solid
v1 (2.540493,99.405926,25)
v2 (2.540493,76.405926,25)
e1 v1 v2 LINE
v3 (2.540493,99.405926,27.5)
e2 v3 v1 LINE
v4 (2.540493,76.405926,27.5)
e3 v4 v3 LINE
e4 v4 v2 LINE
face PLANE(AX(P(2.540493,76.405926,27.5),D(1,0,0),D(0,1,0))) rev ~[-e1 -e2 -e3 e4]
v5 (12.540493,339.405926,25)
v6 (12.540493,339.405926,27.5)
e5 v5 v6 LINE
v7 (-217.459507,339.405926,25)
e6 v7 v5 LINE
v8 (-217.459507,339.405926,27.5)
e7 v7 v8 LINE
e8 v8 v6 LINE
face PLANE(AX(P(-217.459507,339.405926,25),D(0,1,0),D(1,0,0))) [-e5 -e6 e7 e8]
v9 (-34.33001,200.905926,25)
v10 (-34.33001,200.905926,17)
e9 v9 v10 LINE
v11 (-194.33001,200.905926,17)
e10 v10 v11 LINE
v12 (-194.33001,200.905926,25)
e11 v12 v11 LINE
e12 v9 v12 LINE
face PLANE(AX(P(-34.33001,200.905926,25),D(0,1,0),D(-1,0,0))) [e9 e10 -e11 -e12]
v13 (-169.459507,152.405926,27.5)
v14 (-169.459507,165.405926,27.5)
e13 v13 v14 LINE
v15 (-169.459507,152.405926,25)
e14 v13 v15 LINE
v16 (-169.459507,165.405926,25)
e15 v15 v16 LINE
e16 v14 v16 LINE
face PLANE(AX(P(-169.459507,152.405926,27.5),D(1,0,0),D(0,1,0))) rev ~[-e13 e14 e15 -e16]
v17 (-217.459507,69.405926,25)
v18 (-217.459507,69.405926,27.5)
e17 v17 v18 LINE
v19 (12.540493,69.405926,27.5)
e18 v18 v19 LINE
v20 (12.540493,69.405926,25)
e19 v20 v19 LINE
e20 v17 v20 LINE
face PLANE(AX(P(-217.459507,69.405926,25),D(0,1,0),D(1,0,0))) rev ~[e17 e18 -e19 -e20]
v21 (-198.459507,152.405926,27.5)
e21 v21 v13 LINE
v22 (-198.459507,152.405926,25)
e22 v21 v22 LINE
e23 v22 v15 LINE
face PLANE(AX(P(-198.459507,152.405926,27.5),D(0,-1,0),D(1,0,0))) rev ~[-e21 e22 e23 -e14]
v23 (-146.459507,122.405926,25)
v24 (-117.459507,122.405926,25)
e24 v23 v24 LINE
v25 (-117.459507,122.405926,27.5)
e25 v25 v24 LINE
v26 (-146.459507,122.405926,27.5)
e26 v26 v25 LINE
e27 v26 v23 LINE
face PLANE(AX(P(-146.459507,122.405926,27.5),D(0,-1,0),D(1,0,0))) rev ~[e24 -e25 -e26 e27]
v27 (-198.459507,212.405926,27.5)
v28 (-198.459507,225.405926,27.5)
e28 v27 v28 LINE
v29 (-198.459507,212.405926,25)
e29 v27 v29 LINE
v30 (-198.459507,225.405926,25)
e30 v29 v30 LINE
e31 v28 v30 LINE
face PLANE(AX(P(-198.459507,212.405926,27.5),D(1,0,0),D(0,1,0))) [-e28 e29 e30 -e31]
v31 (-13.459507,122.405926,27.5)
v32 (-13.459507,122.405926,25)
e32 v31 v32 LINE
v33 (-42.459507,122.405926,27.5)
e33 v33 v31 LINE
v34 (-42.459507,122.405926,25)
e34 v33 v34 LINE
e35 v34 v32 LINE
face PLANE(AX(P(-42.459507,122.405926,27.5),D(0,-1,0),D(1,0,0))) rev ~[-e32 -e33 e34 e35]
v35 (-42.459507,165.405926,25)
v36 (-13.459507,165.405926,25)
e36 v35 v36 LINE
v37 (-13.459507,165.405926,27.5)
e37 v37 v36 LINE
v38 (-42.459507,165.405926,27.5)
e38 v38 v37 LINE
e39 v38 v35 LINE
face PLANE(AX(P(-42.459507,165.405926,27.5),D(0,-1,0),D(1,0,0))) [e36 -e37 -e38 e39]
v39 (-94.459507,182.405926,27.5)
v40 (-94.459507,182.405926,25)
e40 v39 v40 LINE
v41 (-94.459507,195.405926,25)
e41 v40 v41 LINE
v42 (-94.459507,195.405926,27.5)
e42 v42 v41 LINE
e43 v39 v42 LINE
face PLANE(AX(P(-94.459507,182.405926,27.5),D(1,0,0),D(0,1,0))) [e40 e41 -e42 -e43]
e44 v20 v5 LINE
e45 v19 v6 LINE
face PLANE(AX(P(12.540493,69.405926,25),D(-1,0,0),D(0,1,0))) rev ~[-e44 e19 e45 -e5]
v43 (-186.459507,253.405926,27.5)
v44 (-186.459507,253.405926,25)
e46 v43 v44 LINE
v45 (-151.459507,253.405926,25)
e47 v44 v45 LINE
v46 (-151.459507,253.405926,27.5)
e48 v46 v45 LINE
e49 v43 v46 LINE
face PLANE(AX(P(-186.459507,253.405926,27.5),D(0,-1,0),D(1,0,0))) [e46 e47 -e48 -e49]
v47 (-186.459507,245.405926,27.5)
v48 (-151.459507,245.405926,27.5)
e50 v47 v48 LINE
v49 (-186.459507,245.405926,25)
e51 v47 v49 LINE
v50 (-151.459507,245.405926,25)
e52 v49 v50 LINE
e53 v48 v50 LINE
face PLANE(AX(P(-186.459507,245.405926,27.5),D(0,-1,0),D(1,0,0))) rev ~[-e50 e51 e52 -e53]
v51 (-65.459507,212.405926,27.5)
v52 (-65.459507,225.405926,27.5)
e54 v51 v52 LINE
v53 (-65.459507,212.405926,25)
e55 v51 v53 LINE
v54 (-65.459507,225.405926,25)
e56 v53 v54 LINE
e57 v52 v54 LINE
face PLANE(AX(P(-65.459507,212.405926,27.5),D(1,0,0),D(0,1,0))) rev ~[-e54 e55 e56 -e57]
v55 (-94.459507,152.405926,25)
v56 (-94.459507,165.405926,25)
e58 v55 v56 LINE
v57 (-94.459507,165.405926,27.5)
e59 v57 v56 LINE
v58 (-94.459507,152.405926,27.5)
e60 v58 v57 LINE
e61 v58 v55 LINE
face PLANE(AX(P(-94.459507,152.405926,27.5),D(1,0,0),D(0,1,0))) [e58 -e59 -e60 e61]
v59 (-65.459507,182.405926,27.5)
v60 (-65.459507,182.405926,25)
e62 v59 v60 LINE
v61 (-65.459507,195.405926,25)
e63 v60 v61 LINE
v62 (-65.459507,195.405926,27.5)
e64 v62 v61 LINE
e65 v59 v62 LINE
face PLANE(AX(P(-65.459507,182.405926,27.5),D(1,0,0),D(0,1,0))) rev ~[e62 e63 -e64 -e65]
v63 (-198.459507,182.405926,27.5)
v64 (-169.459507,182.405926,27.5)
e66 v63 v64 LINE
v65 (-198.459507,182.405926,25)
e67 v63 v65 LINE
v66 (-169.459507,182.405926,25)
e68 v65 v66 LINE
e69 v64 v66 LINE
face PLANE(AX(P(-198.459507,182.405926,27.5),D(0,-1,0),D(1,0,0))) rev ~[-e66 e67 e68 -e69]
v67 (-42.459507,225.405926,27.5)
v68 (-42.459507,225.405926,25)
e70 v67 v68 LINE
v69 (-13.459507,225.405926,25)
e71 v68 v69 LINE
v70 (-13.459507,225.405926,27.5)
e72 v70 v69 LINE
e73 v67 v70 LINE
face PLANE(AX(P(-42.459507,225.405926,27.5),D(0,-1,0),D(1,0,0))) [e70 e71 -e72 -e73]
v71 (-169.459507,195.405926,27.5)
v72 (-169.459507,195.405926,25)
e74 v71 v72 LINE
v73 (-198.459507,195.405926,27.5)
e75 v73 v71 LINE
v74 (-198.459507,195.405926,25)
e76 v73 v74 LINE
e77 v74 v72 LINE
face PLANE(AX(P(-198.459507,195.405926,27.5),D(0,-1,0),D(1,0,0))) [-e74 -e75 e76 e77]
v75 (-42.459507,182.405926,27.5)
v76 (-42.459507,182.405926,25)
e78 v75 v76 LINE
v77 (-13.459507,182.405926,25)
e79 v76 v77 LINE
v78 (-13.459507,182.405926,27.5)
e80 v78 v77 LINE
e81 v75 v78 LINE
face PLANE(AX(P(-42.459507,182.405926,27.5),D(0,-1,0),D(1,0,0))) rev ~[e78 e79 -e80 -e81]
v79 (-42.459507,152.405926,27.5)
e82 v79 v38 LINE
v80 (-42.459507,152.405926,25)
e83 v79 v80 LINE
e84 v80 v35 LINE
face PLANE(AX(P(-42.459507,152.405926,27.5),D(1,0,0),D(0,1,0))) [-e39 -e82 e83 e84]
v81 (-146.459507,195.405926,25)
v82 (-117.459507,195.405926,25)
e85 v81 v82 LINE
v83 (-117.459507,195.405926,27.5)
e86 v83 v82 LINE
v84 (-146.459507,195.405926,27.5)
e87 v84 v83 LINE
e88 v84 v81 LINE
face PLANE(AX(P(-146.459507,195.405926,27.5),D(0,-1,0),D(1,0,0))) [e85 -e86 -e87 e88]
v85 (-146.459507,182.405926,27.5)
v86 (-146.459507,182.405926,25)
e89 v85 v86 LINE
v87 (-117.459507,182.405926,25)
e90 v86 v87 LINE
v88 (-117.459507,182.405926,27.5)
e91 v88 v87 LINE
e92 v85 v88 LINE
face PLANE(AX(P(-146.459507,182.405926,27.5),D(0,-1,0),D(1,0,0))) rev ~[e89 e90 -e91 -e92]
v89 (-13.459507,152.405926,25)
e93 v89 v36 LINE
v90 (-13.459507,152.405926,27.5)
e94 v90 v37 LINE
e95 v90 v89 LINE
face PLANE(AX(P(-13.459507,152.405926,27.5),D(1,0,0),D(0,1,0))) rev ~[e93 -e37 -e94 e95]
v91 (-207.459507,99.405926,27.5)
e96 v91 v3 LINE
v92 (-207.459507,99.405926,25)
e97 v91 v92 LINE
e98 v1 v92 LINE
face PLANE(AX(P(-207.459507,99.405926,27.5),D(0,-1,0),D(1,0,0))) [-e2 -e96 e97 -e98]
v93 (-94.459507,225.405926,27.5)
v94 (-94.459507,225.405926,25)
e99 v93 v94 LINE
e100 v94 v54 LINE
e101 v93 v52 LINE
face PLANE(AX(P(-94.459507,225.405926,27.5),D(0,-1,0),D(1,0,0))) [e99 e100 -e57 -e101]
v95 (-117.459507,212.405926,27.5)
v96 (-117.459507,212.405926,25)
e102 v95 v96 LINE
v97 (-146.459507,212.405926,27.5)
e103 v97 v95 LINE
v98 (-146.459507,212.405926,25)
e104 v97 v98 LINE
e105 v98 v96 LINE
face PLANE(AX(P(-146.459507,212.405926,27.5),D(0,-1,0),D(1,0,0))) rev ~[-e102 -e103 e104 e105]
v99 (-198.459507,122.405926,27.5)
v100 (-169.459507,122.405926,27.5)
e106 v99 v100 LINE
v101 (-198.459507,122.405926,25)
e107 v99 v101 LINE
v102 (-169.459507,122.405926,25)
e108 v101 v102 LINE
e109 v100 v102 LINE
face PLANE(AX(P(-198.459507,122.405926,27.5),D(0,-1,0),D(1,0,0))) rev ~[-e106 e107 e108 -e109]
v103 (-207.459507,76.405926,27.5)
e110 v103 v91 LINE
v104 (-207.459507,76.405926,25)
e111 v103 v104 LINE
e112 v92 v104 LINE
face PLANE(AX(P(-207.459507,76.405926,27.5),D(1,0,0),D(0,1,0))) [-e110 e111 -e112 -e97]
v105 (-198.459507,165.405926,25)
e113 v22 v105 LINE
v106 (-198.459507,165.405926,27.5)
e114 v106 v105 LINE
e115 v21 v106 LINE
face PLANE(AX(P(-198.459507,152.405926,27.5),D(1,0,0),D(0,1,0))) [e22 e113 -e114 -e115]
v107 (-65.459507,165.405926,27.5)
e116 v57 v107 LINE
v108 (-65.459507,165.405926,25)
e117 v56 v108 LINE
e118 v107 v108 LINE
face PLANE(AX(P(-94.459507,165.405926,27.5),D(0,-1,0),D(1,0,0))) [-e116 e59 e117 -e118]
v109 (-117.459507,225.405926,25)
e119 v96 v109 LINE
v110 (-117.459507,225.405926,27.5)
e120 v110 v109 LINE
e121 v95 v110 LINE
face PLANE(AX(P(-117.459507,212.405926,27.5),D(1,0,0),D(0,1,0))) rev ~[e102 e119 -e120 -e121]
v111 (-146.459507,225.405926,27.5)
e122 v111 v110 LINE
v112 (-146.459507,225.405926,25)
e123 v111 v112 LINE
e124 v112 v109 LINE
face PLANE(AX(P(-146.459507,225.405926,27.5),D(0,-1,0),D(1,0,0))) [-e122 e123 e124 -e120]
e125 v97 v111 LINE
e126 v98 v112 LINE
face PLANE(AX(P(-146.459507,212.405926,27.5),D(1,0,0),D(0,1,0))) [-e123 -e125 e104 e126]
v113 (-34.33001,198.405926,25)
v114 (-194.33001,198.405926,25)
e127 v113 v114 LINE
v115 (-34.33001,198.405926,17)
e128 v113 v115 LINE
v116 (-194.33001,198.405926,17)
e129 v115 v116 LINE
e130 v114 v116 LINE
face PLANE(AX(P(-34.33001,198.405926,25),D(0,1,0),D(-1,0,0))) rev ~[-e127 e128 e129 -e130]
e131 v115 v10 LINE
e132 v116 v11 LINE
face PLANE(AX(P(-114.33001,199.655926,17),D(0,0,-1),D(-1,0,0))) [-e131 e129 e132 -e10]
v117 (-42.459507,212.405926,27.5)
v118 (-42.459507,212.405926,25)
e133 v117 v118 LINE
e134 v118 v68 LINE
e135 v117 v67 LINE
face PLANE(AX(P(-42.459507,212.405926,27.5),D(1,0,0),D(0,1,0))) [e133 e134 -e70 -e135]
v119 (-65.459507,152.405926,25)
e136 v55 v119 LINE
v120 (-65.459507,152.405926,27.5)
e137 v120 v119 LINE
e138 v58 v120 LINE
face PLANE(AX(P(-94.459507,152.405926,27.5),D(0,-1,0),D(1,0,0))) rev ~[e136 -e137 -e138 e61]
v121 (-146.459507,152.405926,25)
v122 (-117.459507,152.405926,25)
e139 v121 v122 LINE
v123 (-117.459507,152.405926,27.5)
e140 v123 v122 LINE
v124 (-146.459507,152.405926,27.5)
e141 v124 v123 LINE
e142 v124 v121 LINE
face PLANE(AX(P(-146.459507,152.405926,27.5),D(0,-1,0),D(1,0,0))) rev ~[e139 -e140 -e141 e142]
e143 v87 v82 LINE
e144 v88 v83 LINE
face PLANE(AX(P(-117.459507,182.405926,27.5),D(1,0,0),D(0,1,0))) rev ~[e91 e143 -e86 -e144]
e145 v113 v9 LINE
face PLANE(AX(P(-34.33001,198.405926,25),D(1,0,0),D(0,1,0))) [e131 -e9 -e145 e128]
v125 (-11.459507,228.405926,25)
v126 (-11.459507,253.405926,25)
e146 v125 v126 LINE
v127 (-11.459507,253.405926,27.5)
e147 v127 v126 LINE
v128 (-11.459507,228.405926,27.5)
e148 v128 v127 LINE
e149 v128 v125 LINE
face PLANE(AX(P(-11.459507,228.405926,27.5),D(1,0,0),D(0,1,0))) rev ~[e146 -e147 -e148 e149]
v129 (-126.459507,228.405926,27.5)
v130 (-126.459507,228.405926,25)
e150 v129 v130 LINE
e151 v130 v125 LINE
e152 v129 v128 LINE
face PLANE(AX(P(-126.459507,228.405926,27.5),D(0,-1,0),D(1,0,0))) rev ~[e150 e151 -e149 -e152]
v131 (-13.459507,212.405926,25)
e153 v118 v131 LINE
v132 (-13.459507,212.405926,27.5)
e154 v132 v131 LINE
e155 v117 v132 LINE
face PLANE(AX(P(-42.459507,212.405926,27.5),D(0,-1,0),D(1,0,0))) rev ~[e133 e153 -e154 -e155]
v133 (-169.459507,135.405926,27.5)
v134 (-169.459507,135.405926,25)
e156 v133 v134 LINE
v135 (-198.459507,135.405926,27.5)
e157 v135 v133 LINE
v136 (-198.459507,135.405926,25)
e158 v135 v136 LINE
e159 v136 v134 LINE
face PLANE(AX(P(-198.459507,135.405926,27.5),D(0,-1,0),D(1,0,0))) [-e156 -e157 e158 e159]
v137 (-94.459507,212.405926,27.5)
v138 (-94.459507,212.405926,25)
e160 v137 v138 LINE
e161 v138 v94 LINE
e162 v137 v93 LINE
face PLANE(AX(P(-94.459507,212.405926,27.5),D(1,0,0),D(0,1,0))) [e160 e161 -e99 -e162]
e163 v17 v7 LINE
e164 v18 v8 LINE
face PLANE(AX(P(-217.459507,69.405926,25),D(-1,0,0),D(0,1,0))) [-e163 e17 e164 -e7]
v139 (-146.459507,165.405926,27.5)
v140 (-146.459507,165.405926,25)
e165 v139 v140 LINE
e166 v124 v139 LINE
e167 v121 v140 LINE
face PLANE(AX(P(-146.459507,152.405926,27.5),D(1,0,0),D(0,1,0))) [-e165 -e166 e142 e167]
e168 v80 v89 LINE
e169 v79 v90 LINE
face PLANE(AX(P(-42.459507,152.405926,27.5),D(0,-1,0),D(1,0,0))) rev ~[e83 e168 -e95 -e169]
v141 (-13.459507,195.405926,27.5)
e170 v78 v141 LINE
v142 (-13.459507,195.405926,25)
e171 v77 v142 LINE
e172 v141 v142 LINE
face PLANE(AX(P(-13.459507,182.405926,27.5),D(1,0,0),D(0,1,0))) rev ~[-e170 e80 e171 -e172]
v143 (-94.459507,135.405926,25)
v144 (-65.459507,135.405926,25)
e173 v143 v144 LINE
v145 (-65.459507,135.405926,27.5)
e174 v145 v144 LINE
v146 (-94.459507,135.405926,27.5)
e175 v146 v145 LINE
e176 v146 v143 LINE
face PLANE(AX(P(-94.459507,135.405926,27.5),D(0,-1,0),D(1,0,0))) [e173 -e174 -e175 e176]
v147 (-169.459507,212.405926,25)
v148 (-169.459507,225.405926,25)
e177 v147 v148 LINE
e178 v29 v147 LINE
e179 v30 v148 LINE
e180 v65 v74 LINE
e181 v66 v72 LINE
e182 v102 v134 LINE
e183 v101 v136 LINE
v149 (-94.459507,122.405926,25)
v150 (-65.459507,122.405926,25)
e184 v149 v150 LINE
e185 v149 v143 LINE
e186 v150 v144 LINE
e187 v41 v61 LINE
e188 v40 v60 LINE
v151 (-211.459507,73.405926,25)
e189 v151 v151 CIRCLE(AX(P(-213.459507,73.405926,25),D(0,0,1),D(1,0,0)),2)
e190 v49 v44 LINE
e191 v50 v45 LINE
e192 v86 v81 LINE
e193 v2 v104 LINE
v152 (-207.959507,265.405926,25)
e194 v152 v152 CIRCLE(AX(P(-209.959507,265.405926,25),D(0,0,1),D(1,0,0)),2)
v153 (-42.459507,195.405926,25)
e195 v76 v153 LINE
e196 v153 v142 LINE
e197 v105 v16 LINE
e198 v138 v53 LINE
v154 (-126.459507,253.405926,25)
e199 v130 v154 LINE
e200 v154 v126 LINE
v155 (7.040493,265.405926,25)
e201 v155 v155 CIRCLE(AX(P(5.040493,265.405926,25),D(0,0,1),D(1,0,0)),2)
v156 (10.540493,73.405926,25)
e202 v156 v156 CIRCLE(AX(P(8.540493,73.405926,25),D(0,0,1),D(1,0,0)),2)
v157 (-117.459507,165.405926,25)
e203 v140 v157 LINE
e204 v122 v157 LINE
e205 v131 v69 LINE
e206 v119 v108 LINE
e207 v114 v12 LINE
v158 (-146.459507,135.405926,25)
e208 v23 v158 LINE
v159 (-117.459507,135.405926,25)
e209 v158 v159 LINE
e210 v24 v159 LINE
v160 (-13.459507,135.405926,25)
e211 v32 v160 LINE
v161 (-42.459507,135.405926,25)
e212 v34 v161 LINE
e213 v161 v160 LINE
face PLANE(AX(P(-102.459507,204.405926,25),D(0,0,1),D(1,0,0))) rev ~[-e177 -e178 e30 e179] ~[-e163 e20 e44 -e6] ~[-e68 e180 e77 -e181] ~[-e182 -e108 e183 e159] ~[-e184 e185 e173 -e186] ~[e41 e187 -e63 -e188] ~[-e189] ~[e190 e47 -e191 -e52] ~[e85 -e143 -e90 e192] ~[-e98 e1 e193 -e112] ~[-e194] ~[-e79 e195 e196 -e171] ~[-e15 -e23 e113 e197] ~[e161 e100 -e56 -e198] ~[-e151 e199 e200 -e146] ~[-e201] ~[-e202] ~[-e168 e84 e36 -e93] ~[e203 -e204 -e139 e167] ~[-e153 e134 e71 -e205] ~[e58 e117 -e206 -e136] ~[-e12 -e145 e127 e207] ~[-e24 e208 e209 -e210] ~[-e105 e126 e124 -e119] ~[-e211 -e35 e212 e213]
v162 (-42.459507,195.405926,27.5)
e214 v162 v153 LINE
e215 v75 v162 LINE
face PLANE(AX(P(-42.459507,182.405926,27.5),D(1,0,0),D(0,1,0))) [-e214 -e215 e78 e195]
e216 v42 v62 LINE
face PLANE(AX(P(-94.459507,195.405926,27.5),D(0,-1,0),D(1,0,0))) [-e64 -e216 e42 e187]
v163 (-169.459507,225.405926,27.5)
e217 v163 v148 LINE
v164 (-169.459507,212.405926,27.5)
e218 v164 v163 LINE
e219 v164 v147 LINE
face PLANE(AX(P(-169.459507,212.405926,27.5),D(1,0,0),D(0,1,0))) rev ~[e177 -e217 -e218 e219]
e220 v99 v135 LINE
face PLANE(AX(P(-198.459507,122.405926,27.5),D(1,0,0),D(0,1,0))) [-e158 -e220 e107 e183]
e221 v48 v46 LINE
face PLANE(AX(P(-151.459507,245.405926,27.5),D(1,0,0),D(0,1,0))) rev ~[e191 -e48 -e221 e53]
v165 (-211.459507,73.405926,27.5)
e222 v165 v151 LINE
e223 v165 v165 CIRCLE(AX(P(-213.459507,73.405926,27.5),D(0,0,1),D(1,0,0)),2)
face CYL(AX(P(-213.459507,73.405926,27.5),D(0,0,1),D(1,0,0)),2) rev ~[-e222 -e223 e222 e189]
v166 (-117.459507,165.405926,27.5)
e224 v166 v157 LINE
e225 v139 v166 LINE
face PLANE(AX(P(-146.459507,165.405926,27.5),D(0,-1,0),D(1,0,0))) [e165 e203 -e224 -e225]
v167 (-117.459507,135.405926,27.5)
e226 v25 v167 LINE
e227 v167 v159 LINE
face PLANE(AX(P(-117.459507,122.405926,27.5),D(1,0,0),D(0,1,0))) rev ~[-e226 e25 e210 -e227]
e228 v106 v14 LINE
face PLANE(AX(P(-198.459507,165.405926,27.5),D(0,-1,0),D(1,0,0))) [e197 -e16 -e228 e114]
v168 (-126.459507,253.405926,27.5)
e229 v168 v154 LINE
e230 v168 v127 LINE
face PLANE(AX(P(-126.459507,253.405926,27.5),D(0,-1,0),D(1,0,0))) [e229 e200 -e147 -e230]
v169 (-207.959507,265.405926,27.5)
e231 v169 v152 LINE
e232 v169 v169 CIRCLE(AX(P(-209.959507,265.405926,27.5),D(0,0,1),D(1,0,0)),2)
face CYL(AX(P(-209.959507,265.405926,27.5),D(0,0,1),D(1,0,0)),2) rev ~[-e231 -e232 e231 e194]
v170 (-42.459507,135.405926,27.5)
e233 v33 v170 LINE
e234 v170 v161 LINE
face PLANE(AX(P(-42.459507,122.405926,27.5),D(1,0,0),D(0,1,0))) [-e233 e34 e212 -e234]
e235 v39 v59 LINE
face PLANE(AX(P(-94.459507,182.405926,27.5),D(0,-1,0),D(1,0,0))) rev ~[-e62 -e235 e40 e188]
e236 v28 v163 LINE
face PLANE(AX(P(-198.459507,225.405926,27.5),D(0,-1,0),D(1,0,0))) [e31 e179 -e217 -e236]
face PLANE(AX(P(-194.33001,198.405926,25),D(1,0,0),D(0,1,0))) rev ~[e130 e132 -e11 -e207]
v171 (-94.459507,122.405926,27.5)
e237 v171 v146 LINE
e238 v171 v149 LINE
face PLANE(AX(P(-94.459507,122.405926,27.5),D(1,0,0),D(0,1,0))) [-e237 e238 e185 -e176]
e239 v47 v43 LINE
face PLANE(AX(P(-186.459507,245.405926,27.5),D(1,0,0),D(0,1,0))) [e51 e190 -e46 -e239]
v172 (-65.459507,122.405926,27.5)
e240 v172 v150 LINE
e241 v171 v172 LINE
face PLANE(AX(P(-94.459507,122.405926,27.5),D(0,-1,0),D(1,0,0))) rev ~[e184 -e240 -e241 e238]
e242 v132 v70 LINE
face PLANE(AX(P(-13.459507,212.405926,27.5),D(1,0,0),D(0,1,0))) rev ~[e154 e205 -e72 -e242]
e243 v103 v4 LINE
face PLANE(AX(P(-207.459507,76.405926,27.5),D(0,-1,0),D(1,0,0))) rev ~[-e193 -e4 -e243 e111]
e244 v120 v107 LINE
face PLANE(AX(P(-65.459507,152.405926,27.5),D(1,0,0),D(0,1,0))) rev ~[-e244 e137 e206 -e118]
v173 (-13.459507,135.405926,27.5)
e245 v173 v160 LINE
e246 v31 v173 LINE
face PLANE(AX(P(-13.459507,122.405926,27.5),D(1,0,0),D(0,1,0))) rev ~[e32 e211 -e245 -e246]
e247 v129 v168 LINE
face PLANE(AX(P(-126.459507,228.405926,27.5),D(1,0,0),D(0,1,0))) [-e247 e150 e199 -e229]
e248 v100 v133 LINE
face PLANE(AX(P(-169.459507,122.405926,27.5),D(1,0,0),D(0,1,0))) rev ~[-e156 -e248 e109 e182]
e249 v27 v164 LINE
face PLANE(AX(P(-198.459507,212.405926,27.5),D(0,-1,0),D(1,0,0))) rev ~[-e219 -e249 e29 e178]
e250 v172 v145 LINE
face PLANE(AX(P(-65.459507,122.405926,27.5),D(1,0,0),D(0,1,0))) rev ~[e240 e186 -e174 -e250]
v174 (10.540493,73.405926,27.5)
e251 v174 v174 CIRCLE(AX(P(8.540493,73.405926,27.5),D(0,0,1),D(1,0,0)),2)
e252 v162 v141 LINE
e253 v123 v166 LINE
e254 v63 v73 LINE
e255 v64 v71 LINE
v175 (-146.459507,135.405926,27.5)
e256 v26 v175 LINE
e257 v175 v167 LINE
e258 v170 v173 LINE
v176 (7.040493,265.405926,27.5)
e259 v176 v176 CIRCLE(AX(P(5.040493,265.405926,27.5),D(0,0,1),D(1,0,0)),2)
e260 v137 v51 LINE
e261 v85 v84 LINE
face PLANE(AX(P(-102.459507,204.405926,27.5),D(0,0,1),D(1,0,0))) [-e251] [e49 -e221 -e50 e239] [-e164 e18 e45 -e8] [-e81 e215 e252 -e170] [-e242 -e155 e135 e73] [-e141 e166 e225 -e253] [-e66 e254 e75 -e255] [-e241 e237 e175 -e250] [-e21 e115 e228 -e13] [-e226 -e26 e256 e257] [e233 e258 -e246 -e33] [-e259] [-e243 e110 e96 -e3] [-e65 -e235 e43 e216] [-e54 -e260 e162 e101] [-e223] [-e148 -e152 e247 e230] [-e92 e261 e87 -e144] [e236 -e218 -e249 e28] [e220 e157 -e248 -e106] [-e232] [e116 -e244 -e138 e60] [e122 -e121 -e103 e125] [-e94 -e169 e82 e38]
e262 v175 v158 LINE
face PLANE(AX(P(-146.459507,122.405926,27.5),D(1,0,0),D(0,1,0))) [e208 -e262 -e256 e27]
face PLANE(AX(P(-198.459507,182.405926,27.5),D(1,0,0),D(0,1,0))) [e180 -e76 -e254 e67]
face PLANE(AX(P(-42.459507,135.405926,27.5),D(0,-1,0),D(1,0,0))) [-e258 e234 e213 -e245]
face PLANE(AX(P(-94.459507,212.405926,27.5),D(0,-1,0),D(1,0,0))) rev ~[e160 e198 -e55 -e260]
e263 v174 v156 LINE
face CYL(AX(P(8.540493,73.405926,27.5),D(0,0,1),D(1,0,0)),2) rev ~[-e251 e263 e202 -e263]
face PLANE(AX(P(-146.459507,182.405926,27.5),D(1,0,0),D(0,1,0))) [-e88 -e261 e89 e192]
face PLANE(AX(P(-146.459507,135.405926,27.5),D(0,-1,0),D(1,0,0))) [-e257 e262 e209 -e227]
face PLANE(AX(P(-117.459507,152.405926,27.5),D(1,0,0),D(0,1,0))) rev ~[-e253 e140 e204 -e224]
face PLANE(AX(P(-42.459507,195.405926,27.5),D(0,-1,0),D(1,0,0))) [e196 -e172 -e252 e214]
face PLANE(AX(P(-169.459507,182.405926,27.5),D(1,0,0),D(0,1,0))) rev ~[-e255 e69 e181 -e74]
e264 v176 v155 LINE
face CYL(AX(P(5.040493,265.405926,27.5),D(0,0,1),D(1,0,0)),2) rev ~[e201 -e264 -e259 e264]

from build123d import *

# Parameters (mm, degrees)
ESQUISSE1_W             = 230
ESQUISSE1_H             = 270
BOSS_EXTRU_2_DEPTH      = 2.5
ENL_V_MAT_EXTRU_1_REACH = 405.102
ESQUISSE4_W             = 210
ESQUISSE4_H             = 23
ESQUISSE5_R             = 2
ENL_V_MAT_EXTRU_2_DEPTH = 2.5
ESQUISSE6_W             = 35
ESQUISSE6_H             = 8
ESQUISSE6_W_2           = 115
ESQUISSE6_H_2           = 25
ENL_V_MAT_EXTRU_3_DEPTH = 2.5
ESQUISSE7_W             = 29
ESQUISSE7_H             = 13
ENL_V_MAT_EXTRU_4_DEPTH = 2.5
ESQUISSE8_W             = 160
ESQUISSE8_H             = 2.5
BOSS_EXTRU_3_DEPTH      = 8
ESQUISSE9_R             = 2
ENL_V_MAT_EXTRU_5_DEPTH = 404.231037827
ESQUISSE11_R            = 2
ENL_V_MAT_EXTRU_6_DEPTH = 404.231037827


with BuildPart() as part:
    # Esquisse1 → Boss.-Extru.2 (new body)
    with BuildSketch(Plane.XY.offset(25)):
        with Locations((-102.459507472, 204.405925813)):
            Rectangle(ESQUISSE1_W, ESQUISSE1_H)
    extrude(amount=BOSS_EXTRU_2_DEPTH)

    # Esquisse4 → Enlèv. mat.-Extru.1 (cut, up to next)
    with BuildSketch(Plane.XY.offset(27.5), mode=Mode.PRIVATE) as enl_v_mat_extru_1_sk1:
        with Locations((-102.459507472, 87.905925813)):
            Rectangle(ESQUISSE4_W, ESQUISSE4_H)
    enl_v_mat_extru_1_tool1 = extrude(enl_v_mat_extru_1_sk1.sketch, amount=-ENL_V_MAT_EXTRU_1_REACH, mode=Mode.PRIVATE) & part.part
    add(enl_v_mat_extru_1_tool1.solids().sort_by_distance((-102.459507, 87.905926, 27.5))[0], mode=Mode.SUBTRACT)

    # Esquisse5 → Enlèv. mat.-Extru.2 (cut)
    with BuildSketch(Plane.XY.offset(27.5)):
        with Locations((-213.459507472, 73.405925813)):
            Circle(ESQUISSE5_R)
        with Locations((8.540492528, 73.405925813)):
            Circle(ESQUISSE5_R)
    extrude(amount=-ENL_V_MAT_EXTRU_2_DEPTH, mode=Mode.SUBTRACT)

    # Esquisse6 → Enlèv. mat.-Extru.3 (cut)
    with BuildSketch(Plane.XY.offset(27.5)):
        with Locations((-168.959507472, 249.405925813)):
            Rectangle(ESQUISSE6_W, ESQUISSE6_H)
        with Locations((-68.959507472, 240.905925813)):
            Rectangle(ESQUISSE6_W_2, ESQUISSE6_H_2)
    extrude(amount=-ENL_V_MAT_EXTRU_3_DEPTH, mode=Mode.SUBTRACT)

    # Esquisse7 → Enlèv. mat.-Extru.4 (cut)
    with BuildSketch(Plane.XY.offset(27.5)):
        with Locations((-131.959507472, 218.905925813)):
            Rectangle(ESQUISSE7_W, ESQUISSE7_H)
        with Locations((-183.959507472, 218.905925813)):
            Rectangle(ESQUISSE7_W, ESQUISSE7_H)
        with Locations((-79.959507472, 218.905925813)):
            Rectangle(ESQUISSE7_W, ESQUISSE7_H)
        with Locations((-27.959507472, 218.905925813)):
            Rectangle(ESQUISSE7_W, ESQUISSE7_H)
        with Locations((-131.959507472, 188.905925813)):
            Rectangle(ESQUISSE7_W, ESQUISSE7_H)
        with Locations((-79.959507472, 188.905925813)):
            Rectangle(ESQUISSE7_W, ESQUISSE7_H)
        with Locations((-27.959507472, 188.905925813)):
            Rectangle(ESQUISSE7_W, ESQUISSE7_H)
        with Locations((-131.959507472, 158.905925813)):
            Rectangle(ESQUISSE7_W, ESQUISSE7_H)
        with Locations((-79.959507472, 158.905925813)):
            Rectangle(ESQUISSE7_W, ESQUISSE7_H)
        with Locations((-27.959507472, 158.905925813)):
            Rectangle(ESQUISSE7_W, ESQUISSE7_H)
        with Locations((-131.959507472, 128.905925813)):
            Rectangle(ESQUISSE7_W, ESQUISSE7_H)
        with Locations((-79.959507472, 128.905925813)):
            Rectangle(ESQUISSE7_W, ESQUISSE7_H)
        with Locations((-27.959507472, 128.905925813)):
            Rectangle(ESQUISSE7_W, ESQUISSE7_H)
        with Locations((-183.959507472, 188.905925813)):
            Rectangle(ESQUISSE7_W, ESQUISSE7_H)
        with Locations((-183.959507472, 158.905925813)):
            Rectangle(ESQUISSE7_W, ESQUISSE7_H)
        with Locations((-183.959507472, 128.905925813)):
            Rectangle(ESQUISSE7_W, ESQUISSE7_H)
    extrude(amount=-ENL_V_MAT_EXTRU_4_DEPTH, mode=Mode.SUBTRACT)

    # Esquisse8 → Boss.-Extru.3 (add)
    with BuildSketch(Plane(origin=(0, 0, 25), x_dir=(-1, 0, 0), z_dir=(0, 0, -1))):
        with Locations((114.330010258, 199.655925813)):
            Rectangle(ESQUISSE8_W, ESQUISSE8_H)
    extrude(amount=BOSS_EXTRU_3_DEPTH)

    # Esquisse9 → Enlèv. mat.-Extru.5 (cut, through all)
    with BuildSketch(Plane.XY.offset(27.5)):
        with Locations((-209.959507472, 265.405925813)):
            Circle(ESQUISSE9_R)
    extrude(amount=-ENL_V_MAT_EXTRU_5_DEPTH, mode=Mode.SUBTRACT)

    # Esquisse11 → Enlèv. mat.-Extru.6 (cut, through all)
    with BuildSketch(Plane.XY.offset(27.5)):
        with Locations((5.040492528, 265.405925813)):
            Circle(ESQUISSE11_R)
    extrude(amount=-ENL_V_MAT_EXTRU_6_DEPTH, mode=Mode.SUBTRACT)


solid = part.part
